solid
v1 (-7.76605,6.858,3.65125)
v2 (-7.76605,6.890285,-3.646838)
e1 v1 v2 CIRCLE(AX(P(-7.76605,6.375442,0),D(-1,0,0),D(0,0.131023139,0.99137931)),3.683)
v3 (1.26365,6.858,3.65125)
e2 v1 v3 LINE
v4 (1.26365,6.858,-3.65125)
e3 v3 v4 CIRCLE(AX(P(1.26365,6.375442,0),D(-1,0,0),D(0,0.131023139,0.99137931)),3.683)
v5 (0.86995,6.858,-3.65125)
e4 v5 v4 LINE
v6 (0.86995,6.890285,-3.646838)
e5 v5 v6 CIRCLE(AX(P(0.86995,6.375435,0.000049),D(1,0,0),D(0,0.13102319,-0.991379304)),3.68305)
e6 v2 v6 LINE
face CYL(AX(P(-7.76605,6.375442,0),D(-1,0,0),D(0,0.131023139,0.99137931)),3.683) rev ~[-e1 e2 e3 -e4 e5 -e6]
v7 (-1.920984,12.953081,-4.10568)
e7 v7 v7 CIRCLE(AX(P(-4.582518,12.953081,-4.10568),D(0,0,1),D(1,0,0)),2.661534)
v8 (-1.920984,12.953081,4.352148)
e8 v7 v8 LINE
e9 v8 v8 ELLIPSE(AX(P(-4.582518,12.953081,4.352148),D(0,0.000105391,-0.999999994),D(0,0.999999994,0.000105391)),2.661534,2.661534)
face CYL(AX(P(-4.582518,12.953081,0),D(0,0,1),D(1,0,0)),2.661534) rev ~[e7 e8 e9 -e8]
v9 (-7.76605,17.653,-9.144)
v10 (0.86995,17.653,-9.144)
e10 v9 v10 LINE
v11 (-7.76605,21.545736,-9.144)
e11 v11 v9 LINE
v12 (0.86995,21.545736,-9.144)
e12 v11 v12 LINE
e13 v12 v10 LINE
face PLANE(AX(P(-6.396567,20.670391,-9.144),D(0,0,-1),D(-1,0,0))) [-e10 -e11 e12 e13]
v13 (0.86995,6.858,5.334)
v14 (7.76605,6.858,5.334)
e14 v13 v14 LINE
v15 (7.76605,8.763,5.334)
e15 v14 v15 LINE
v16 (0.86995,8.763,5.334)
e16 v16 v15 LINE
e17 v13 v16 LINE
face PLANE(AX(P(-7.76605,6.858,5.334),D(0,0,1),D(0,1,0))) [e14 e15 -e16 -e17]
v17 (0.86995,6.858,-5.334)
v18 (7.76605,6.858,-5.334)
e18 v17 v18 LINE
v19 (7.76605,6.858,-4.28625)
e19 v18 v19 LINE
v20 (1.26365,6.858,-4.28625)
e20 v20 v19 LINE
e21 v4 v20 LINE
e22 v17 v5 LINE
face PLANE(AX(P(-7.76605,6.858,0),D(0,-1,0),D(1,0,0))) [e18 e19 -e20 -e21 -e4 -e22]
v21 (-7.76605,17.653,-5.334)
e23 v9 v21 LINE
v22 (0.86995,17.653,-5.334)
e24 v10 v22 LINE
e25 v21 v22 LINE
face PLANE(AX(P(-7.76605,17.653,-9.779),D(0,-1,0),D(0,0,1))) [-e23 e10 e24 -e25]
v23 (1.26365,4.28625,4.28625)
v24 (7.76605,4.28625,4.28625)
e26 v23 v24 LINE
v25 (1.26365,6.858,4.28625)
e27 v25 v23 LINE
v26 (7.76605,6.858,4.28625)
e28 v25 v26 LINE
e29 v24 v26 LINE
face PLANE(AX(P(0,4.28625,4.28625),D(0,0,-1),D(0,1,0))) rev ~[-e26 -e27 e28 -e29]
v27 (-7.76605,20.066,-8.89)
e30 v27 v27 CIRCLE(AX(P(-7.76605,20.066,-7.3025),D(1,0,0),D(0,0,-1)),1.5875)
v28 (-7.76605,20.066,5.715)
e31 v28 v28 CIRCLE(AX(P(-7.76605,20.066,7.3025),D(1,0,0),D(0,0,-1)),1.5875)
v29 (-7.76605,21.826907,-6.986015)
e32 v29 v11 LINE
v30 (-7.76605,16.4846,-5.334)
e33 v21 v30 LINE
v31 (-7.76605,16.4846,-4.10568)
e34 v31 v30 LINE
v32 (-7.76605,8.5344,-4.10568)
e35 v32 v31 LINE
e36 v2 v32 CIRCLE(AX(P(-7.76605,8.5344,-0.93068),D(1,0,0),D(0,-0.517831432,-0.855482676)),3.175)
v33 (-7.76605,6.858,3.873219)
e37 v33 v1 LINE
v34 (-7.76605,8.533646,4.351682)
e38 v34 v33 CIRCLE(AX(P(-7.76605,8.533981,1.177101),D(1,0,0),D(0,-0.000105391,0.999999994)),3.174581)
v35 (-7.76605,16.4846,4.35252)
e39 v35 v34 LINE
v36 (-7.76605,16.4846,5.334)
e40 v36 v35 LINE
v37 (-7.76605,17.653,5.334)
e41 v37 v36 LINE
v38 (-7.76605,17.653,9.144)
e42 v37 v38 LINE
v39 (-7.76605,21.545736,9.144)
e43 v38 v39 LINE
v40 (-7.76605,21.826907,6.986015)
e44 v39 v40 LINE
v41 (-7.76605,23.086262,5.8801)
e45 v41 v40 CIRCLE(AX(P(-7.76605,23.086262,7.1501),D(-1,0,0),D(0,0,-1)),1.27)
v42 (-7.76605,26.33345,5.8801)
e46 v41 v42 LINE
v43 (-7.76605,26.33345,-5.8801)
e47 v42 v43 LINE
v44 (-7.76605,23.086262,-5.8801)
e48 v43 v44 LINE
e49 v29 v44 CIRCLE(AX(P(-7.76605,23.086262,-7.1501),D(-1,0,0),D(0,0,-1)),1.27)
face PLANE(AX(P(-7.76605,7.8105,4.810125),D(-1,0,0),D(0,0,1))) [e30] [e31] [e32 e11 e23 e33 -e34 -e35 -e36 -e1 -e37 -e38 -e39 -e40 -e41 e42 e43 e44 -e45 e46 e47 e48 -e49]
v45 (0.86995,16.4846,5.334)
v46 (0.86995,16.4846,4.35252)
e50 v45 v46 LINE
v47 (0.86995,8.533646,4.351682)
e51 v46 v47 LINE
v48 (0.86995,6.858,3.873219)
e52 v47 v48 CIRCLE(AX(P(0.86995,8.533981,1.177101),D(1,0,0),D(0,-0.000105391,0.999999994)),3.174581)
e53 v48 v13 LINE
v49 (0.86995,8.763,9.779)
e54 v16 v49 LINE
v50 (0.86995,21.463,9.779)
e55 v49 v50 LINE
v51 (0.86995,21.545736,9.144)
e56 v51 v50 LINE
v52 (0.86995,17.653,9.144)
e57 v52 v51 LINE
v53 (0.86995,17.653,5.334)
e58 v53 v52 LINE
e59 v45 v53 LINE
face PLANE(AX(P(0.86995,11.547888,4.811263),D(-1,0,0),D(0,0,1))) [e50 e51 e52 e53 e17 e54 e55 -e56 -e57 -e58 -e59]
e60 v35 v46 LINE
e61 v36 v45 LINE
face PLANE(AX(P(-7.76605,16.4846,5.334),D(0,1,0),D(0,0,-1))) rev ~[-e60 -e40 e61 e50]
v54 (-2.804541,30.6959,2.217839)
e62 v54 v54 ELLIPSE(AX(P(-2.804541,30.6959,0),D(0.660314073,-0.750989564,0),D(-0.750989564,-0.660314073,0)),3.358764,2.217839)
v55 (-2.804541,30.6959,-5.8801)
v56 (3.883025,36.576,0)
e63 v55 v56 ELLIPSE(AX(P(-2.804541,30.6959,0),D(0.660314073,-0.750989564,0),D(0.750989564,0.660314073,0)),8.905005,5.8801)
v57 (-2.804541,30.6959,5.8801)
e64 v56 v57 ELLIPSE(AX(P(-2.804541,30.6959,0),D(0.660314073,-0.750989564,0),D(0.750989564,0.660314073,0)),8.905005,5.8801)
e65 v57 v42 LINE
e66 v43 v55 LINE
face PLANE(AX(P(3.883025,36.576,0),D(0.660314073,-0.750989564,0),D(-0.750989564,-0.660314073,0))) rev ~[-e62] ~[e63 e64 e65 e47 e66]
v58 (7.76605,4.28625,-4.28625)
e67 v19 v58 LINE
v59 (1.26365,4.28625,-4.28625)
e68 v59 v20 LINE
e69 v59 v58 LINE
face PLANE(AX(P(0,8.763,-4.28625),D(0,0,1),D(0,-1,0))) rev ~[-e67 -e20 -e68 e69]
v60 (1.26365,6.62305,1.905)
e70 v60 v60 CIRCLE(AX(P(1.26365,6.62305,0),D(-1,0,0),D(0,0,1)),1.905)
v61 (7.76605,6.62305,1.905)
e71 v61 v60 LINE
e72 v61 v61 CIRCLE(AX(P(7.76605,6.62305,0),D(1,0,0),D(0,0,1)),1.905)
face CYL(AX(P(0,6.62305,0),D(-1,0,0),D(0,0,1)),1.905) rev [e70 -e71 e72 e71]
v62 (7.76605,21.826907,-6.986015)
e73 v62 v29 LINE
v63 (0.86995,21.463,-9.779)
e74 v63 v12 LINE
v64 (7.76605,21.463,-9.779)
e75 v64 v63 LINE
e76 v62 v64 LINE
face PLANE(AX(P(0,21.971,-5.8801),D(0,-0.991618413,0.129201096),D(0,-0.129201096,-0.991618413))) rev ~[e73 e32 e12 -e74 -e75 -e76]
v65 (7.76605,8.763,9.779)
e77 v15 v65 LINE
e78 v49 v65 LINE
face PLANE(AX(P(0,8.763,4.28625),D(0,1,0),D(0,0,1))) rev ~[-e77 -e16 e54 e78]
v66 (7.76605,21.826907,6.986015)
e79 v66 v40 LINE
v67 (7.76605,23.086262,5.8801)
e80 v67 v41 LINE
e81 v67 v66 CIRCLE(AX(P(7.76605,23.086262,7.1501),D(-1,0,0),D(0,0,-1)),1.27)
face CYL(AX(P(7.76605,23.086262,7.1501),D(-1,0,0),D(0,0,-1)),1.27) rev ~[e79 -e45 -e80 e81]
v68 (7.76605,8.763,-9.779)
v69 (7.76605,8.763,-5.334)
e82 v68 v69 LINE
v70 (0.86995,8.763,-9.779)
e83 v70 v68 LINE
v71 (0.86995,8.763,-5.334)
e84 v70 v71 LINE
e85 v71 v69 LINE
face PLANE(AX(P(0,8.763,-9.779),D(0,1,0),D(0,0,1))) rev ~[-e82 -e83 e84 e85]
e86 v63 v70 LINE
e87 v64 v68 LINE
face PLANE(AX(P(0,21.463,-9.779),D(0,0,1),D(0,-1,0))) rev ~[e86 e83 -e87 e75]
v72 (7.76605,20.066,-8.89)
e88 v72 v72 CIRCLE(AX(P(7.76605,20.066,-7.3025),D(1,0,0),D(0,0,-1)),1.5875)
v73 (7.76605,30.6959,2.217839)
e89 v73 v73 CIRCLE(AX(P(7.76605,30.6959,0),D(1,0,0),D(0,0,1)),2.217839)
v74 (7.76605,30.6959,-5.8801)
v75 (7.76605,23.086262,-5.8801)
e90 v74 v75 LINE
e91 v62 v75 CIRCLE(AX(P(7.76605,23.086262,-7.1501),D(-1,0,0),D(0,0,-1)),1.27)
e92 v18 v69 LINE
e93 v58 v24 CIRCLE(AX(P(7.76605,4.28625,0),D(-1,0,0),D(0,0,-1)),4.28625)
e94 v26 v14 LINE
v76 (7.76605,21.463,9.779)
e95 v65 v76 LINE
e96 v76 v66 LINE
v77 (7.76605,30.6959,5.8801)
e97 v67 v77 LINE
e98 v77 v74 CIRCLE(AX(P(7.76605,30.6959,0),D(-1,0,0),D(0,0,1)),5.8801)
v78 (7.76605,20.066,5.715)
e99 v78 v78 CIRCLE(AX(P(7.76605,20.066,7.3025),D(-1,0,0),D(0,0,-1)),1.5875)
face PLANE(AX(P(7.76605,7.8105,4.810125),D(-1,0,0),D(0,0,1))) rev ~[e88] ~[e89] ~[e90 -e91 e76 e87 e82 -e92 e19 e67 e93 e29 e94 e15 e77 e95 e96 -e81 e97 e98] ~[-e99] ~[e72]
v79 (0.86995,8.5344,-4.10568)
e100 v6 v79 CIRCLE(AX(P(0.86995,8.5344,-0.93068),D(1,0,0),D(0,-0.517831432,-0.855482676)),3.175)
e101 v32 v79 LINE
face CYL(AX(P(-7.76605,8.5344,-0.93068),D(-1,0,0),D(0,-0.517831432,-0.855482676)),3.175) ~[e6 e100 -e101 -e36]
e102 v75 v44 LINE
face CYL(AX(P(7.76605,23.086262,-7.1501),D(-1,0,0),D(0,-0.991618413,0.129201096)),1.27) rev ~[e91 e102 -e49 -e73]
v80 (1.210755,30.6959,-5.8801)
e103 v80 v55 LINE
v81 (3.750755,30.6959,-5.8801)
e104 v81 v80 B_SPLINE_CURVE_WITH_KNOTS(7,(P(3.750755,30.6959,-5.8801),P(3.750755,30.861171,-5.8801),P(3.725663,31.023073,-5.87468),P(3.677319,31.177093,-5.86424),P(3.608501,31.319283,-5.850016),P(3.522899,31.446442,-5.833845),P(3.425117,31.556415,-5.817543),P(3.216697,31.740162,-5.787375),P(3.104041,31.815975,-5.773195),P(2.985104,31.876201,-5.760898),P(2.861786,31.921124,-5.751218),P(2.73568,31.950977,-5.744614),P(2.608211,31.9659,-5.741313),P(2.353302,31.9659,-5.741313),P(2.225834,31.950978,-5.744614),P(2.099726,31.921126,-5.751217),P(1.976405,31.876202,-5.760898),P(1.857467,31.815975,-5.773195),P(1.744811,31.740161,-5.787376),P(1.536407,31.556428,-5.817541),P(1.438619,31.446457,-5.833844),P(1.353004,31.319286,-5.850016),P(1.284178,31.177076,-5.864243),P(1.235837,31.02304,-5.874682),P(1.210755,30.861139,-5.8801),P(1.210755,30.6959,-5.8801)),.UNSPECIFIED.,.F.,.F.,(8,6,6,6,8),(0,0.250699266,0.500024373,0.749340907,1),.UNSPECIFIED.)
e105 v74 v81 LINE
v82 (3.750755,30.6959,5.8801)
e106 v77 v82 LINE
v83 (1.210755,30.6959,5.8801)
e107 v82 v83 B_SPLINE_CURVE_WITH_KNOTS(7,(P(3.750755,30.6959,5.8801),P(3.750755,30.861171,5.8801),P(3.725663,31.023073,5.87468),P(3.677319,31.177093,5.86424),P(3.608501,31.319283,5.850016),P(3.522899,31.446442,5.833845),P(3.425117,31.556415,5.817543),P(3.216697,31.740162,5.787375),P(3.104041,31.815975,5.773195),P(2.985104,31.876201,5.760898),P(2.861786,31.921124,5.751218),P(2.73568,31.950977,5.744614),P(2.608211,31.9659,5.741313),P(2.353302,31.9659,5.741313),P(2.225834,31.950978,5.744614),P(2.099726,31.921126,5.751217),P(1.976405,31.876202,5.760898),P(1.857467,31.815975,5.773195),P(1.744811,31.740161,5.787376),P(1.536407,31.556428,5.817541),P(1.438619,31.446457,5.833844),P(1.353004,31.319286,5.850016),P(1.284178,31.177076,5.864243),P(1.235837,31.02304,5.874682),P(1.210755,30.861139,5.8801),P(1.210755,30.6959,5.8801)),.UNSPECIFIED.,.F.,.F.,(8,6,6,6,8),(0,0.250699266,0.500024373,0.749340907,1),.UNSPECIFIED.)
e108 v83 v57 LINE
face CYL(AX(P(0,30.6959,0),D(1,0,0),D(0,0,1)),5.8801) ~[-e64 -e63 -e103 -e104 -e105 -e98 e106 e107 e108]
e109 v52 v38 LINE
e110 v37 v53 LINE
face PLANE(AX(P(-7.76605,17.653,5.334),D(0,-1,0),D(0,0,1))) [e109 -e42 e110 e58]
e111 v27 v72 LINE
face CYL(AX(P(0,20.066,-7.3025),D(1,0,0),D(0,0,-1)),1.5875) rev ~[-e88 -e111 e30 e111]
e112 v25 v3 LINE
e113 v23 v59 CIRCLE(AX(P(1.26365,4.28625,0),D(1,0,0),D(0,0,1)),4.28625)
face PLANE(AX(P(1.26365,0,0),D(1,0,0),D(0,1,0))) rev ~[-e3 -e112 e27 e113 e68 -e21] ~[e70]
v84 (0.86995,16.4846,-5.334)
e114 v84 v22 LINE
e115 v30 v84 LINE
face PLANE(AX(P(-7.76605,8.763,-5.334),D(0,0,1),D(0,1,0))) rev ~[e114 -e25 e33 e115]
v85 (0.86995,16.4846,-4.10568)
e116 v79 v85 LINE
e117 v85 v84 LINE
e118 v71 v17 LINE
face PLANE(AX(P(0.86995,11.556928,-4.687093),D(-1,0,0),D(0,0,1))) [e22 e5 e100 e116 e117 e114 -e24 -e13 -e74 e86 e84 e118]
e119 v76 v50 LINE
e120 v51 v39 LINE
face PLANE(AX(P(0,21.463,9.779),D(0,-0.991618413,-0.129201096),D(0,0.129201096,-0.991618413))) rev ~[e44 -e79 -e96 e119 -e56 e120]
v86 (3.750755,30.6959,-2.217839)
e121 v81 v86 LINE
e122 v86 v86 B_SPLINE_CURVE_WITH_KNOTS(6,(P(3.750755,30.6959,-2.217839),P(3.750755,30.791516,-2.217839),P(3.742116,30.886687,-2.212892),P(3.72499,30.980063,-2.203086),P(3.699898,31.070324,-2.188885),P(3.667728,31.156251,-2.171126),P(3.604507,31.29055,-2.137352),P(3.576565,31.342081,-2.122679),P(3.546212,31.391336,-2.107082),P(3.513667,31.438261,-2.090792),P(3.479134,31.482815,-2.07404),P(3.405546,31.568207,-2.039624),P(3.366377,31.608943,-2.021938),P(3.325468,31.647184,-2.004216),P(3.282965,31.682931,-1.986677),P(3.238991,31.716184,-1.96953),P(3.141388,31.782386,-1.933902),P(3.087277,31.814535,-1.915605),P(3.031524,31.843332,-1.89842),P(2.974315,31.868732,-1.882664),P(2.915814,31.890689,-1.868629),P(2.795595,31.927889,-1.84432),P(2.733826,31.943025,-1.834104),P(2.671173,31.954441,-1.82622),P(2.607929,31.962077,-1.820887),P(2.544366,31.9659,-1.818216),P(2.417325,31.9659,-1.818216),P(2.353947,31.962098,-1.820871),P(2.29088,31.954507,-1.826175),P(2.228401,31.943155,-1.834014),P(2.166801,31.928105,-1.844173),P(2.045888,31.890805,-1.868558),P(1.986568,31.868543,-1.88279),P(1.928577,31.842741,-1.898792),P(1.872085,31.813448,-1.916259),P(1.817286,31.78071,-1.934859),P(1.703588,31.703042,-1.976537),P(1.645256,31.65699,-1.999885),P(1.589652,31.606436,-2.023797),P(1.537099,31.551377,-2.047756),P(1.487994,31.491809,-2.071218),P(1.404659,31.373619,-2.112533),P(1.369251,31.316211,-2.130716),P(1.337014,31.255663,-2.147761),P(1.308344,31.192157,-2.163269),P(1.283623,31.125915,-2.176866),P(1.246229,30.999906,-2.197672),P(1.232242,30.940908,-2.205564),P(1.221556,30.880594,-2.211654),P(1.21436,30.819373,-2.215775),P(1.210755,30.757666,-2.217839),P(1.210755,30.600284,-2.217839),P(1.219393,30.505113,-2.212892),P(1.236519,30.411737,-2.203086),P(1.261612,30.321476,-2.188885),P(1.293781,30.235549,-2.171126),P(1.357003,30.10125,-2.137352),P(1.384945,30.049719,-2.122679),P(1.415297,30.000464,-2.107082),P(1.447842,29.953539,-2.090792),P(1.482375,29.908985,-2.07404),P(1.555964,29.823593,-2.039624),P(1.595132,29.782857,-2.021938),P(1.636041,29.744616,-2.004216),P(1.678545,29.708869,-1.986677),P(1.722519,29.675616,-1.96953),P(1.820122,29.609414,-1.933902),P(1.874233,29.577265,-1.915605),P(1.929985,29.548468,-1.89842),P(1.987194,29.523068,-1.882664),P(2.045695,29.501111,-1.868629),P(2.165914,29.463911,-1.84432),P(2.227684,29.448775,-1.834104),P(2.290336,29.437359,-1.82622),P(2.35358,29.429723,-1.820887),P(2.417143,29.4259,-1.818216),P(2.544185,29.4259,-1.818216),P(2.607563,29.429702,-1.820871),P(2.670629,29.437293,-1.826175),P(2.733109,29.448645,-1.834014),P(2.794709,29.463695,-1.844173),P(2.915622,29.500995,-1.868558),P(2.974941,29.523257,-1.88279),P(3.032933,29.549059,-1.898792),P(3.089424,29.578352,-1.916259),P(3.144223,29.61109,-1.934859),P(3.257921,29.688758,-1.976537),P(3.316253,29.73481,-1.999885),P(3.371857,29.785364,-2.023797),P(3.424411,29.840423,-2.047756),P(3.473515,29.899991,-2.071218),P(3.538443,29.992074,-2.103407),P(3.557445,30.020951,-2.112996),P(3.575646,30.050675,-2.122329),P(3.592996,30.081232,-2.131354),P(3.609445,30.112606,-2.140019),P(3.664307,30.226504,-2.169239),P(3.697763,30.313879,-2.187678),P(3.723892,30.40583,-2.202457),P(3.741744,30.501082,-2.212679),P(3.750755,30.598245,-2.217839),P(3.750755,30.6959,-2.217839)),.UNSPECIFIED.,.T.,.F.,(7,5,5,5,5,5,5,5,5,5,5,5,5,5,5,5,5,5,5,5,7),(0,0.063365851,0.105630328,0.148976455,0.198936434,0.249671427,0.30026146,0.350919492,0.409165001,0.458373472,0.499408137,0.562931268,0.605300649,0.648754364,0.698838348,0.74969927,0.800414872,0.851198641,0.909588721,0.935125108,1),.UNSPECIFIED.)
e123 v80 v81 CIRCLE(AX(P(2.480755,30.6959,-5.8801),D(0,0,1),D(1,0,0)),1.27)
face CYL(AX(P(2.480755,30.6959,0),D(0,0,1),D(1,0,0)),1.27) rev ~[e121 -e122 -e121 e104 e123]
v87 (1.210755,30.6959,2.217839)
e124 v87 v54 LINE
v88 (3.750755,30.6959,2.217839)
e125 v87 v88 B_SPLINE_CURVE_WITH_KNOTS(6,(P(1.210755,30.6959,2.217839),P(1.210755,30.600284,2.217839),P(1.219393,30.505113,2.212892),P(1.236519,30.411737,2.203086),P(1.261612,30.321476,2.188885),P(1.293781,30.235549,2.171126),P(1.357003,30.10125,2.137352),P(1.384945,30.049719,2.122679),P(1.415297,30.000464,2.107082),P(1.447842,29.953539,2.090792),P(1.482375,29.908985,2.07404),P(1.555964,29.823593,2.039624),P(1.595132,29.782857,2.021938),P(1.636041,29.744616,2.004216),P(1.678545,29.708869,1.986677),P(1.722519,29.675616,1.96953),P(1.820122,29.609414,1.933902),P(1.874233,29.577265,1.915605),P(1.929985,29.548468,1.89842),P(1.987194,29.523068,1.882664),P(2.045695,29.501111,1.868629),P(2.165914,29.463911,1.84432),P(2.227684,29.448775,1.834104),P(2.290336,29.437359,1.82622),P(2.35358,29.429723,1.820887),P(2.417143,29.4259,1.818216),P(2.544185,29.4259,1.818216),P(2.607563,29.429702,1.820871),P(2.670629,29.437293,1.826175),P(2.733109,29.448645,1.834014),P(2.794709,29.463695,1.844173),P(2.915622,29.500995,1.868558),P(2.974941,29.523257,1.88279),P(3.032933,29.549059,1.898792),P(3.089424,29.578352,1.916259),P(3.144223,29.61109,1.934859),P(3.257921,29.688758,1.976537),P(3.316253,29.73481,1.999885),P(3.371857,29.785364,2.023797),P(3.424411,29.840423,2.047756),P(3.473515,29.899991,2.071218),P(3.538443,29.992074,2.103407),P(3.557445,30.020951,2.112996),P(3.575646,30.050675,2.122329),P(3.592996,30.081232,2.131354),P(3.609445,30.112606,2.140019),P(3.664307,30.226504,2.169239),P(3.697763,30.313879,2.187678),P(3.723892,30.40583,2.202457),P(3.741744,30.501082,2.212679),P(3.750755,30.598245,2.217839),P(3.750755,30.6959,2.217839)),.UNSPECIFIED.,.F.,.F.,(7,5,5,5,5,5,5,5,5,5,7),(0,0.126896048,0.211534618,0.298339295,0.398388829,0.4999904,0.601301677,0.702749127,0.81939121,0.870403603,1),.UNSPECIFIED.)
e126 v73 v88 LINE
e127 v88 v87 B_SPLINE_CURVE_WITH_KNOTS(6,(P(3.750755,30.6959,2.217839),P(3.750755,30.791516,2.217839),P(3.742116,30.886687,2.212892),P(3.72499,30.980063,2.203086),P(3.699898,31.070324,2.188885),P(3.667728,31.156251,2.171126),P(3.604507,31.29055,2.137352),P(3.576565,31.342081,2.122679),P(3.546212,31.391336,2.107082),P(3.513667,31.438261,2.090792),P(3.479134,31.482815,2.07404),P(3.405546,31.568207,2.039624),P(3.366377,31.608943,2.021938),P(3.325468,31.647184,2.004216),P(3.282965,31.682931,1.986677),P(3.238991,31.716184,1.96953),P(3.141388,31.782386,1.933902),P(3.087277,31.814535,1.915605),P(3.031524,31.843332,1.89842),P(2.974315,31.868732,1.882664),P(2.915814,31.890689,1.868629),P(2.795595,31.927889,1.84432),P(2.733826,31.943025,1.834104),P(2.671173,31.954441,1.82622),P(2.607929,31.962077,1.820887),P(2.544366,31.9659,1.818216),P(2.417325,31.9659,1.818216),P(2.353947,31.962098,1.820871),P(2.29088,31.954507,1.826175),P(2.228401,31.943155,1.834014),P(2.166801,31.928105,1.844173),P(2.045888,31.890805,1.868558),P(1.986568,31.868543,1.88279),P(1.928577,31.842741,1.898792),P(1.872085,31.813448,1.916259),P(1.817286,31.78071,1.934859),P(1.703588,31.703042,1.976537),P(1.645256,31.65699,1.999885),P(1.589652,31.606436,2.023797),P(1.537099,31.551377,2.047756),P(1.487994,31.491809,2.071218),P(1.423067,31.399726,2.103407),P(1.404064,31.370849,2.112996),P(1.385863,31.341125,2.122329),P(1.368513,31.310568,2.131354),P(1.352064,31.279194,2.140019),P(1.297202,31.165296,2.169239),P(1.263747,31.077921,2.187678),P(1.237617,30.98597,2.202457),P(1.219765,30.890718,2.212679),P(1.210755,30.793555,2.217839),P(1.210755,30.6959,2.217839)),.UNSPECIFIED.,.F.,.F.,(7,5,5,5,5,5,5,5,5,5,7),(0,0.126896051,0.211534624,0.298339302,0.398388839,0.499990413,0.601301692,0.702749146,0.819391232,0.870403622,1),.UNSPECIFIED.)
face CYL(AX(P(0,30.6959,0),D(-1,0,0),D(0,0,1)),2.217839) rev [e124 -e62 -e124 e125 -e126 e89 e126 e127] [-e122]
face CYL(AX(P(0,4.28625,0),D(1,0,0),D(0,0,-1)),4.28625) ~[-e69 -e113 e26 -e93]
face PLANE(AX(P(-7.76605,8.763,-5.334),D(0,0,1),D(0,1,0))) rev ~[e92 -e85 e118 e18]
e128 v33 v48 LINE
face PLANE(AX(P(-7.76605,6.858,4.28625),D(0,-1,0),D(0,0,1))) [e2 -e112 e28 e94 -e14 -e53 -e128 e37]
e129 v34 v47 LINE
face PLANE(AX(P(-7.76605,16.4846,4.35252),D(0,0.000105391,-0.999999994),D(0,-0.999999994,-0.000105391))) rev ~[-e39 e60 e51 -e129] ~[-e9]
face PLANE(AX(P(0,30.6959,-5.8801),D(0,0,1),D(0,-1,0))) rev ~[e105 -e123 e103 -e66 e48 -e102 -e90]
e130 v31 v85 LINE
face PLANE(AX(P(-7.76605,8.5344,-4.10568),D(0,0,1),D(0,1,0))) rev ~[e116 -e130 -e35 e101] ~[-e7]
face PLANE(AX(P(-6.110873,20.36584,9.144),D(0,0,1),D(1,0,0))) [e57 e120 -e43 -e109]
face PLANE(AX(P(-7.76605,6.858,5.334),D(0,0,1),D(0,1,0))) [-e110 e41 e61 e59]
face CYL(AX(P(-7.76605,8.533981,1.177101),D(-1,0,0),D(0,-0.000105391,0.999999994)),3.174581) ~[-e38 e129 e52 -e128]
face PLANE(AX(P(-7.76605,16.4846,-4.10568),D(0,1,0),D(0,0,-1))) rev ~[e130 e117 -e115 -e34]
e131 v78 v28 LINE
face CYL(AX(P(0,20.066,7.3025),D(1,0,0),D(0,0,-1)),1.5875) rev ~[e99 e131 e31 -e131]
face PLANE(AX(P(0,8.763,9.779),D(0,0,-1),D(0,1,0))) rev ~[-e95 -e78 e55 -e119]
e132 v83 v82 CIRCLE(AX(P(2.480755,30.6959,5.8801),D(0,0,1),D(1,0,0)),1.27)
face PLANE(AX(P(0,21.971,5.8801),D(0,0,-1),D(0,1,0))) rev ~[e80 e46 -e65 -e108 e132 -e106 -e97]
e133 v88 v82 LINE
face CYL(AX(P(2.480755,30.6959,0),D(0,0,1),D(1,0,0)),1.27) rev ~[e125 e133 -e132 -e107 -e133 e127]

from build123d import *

# Parameters (mm, degrees)
SKETCH1_R           = 1.905
SKETCH1_R_2         = 2.2178391
BOSS_EXTRUDE1_DEPTH = 7.76605
SKETCH2_W           = 9.0297
SKETCH2_H           = 6.858
CUT_EXTRUDE1_DEPTH  = 7.76605
CUT_EXTRUDE2_DEPTH  = 9.0297
SKETCH5_R           = 1.5875
CUT_EXTRUDE3_DEPTH  = 12.7
FILLET2_R           = 1.27
SKETCH6_W           = 4.445
SKETCH6_H           = 8.89
CUT_EXTRUDE4_DEPTH  = 8.636
SKETCH6_4_W         = 1.04775
SKETCH6_4_H         = 1.905
BOSS_EXTRUDE2_DEPTH = 15.5321
SKETCH7_R           = 2.661534018
CUT_EXTRUDE5_DEPTH  = 12.7
CUT_EXTRUDE6_DEPTH  = 8.636
CUT_EXTRUDE7_DEPTH  = 0.635
CUT_EXTRUDE8_DEPTH  = 0.635
SKETCH11_R          = 1.27
CUT_EXTRUDE9_DEPTH  = 12.7


with BuildPart() as part:
    # Sketch1 → Boss-Extrude1 (new, symmetric)
    with BuildSketch(Plane(origin=(0, 0, 0), x_dir=(0, 0, -1), z_dir=(1, 0, 0))):
        with BuildLine():
            Line((-9.779, 8.763), (-9.779, 21.463))
            Line((-9.779, 21.463), (-5.8801, 21.971))
            Line((-5.8801, 21.971), (-5.8801, 30.6959))
            ThreePointArc((-5.8801, 30.6959), (0, 36.576), (5.8801, 30.6959))
            Line((5.8801, 30.6959), (5.8801, 21.971))
            Line((5.8801, 21.971), (9.779, 21.463))
            Line((9.779, 21.463), (9.779, 8.763))
            Line((9.779, 8.763), (4.28625, 8.763))
            Line((4.28625, 8.763), (4.28625, 4.28625))
            ThreePointArc((4.28625, 4.28625), (0, 0), (-4.28625, 4.28625))
            Line((-4.28625, 4.28625), (-4.28625, 8.763))
            Line((-4.28625, 8.763), (-9.779, 8.763))
        make_face()
        with Locations(Location((0, 6.62305, 0), (0, 0, 180))):
            Circle(SKETCH1_R, mode=Mode.SUBTRACT)
        with Locations(Location((0, 30.6959, 0), (0, 0, 180))):
            Circle(SKETCH1_R_2, mode=Mode.SUBTRACT)
    extrude(amount=BOSS_EXTRUDE1_DEPTH, both=True)

    # Sketch2 → Cut-Extrude1 (cut, symmetric)
    with BuildSketch(Plane.XY):
        Polygon((3.883025, 36.576), (-7.76605, 26.33345), (-11.065137459, 26.33345), (-11.065137459, 37.341338298), align=None)
        with Locations((-3.2512, 3.429)):
            Rectangle(SKETCH2_W, SKETCH2_H)
    extrude(amount=CUT_EXTRUDE1_DEPTH, both=True, mode=Mode.SUBTRACT)

    # Sketch3 → Cut-Extrude2 (cut)
    with BuildSketch(Plane.ZY.offset(7.76605)):
        with BuildLine():
            Line((-3.65125, 6.858), (-3.65125, 3.968410348))
            Line((-3.65125, 3.968410348), (3.65125, 3.968410348))
            Line((3.65125, 3.968410348), (3.65125, 6.858))
            ThreePointArc((3.65125, 6.858), (0, 10.058441778), (-3.65125, 6.858))
        make_face()
    extrude(amount=-CUT_EXTRUDE2_DEPTH, mode=Mode.SUBTRACT)

    # Sketch5 → Cut-Extrude3 (cut, symmetric)
    with BuildSketch(Plane(origin=(0, 0, 0), x_dir=(0, 0, -1), z_dir=(1, 0, 0))):
        with Locations((-7.3025, 20.066)):
            Circle(SKETCH5_R)
        with Locations((7.3025, 20.066)):
            Circle(SKETCH5_R)
    extrude(amount=CUT_EXTRUDE3_DEPTH, both=True, mode=Mode.SUBTRACT)

    # Fillet2
    fillet2_edges = [part.edges().sort_by_distance(p)[0] for p in [
        (0, 21.971, 5.8801),
        (0, 21.971, -5.8801),
    ]]
    fillet(fillet2_edges, radius=FILLET2_R)

    # Sketch6 → Cut-Extrude4 (cut)
    with BuildSketch(Plane.ZY.offset(7.76605)):
        with Locations((-7.5565, 13.208)):
            Rectangle(SKETCH6_W, SKETCH6_H)
        with Locations((7.5565, 13.208)):
            Rectangle(SKETCH6_W, SKETCH6_H)
    extrude(amount=-CUT_EXTRUDE4_DEPTH, mode=Mode.SUBTRACT)

    # Sketch6_4 → Boss-Extrude2 (add)
    with BuildSketch(Plane.ZY.offset(7.76605)):
        with Locations((4.810125, 7.8105)):
            Rectangle(SKETCH6_4_W, SKETCH6_4_H)
        with Locations((-4.810125, 7.8105)):
            Rectangle(SKETCH6_4_W, SKETCH6_4_H)
    extrude(amount=-BOSS_EXTRUDE2_DEPTH)

    # Sketch7 → Cut-Extrude5 (cut, symmetric)
    with BuildSketch(Plane.XY):
        with Locations((-4.582517629, 12.953080778)):
            Circle(SKETCH7_R)
    extrude(amount=CUT_EXTRUDE5_DEPTH, both=True, mode=Mode.SUBTRACT)

    # Sketch8 → Cut-Extrude6 (cut)
    with BuildSketch(Plane.ZY.offset(7.76605)):
        with BuildLine():
            Line((5.334, 6.858), (5.334, 16.484599764))
            Line((5.334, 16.484599764), (4.35251984, 16.484599764))
            Line((4.35251984, 16.484599764), (4.351681885, 8.533646344))
            ThreePointArc((4.351681885, 8.533646344), (4.229677597, 7.662350207), (3.873218976, 6.858))
            Line((3.873218976, 6.858), (4.286179008, 6.858))
            Line((4.286179008, 6.858), (5.334, 6.858))
        make_face()
        with BuildLine():
            Line((-4.10568025, 16.484599736), (-5.334, 16.484599736))
            Line((-5.334, 16.484599736), (-5.334, 6.858))
            Line((-5.334, 6.858), (-3.65125, 6.858))
            ThreePointArc((-3.65125, 6.858), (-3.649079576, 6.874147348), (-3.646837743, 6.890284937))
            ThreePointArc((-3.646837743, 6.890284937), (-3.988818984, 7.680928893), (-4.10568025, 8.534399736))
            Line((-4.10568025, 8.534399736), (-4.10568025, 16.484599736))
        make_face()
    extrude(amount=-CUT_EXTRUDE6_DEPTH, mode=Mode.SUBTRACT)

    # Sketch9 → Cut-Extrude7 (cut)
    with BuildSketch(Plane.XY.offset(9.779)):
        Polygon((-2.899226122, 16.483160278), (0.86995, 16.483160278), (0.86995, 17.653), (-7.76605, 17.653), (-7.76605, 21.463), (0.86995, 21.463), (0.86995, 24.857620894), (-13.663084866, 24.857620894), (-13.663084866, 16.483160278), (-7.00405, 16.483160278), (-3.833922711, 16.483160278), align=None)
        Polygon((-7.76605, 17.653), (0.86995, 17.653), (0.86995, 20.039153951), (0.86995, 21.463), (-7.76605, 21.463), align=None)
    extrude(amount=-CUT_EXTRUDE7_DEPTH, mode=Mode.SUBTRACT)

    # Sketch10 → Cut-Extrude8 (cut)
    with BuildSketch(Plane(origin=(0, 0, -9.779), x_dir=(-1, 0, 0), z_dir=(0, 0, -1))):
        Polygon((3.833922711, 16.483160278), (7.00405, 16.483160278), (13.663084866, 16.483160278), (13.663084866, 24.857620894), (-0.86995, 24.857620894), (-0.86995, 20.039153951), (-0.86995, 17.653), (-0.86995, 16.483160278), (2.899226122, 16.483160278), align=None)
    extrude(amount=-CUT_EXTRUDE8_DEPTH, mode=Mode.SUBTRACT)

    # Sketch11 → Cut-Extrude9 (cut, symmetric)
    with BuildSketch(Plane.XY):
        with Locations((2.480754657, 30.6959)):
            Circle(SKETCH11_R)
    extrude(amount=CUT_EXTRUDE9_DEPTH, both=True, mode=Mode.SUBTRACT)


solid = part.part
